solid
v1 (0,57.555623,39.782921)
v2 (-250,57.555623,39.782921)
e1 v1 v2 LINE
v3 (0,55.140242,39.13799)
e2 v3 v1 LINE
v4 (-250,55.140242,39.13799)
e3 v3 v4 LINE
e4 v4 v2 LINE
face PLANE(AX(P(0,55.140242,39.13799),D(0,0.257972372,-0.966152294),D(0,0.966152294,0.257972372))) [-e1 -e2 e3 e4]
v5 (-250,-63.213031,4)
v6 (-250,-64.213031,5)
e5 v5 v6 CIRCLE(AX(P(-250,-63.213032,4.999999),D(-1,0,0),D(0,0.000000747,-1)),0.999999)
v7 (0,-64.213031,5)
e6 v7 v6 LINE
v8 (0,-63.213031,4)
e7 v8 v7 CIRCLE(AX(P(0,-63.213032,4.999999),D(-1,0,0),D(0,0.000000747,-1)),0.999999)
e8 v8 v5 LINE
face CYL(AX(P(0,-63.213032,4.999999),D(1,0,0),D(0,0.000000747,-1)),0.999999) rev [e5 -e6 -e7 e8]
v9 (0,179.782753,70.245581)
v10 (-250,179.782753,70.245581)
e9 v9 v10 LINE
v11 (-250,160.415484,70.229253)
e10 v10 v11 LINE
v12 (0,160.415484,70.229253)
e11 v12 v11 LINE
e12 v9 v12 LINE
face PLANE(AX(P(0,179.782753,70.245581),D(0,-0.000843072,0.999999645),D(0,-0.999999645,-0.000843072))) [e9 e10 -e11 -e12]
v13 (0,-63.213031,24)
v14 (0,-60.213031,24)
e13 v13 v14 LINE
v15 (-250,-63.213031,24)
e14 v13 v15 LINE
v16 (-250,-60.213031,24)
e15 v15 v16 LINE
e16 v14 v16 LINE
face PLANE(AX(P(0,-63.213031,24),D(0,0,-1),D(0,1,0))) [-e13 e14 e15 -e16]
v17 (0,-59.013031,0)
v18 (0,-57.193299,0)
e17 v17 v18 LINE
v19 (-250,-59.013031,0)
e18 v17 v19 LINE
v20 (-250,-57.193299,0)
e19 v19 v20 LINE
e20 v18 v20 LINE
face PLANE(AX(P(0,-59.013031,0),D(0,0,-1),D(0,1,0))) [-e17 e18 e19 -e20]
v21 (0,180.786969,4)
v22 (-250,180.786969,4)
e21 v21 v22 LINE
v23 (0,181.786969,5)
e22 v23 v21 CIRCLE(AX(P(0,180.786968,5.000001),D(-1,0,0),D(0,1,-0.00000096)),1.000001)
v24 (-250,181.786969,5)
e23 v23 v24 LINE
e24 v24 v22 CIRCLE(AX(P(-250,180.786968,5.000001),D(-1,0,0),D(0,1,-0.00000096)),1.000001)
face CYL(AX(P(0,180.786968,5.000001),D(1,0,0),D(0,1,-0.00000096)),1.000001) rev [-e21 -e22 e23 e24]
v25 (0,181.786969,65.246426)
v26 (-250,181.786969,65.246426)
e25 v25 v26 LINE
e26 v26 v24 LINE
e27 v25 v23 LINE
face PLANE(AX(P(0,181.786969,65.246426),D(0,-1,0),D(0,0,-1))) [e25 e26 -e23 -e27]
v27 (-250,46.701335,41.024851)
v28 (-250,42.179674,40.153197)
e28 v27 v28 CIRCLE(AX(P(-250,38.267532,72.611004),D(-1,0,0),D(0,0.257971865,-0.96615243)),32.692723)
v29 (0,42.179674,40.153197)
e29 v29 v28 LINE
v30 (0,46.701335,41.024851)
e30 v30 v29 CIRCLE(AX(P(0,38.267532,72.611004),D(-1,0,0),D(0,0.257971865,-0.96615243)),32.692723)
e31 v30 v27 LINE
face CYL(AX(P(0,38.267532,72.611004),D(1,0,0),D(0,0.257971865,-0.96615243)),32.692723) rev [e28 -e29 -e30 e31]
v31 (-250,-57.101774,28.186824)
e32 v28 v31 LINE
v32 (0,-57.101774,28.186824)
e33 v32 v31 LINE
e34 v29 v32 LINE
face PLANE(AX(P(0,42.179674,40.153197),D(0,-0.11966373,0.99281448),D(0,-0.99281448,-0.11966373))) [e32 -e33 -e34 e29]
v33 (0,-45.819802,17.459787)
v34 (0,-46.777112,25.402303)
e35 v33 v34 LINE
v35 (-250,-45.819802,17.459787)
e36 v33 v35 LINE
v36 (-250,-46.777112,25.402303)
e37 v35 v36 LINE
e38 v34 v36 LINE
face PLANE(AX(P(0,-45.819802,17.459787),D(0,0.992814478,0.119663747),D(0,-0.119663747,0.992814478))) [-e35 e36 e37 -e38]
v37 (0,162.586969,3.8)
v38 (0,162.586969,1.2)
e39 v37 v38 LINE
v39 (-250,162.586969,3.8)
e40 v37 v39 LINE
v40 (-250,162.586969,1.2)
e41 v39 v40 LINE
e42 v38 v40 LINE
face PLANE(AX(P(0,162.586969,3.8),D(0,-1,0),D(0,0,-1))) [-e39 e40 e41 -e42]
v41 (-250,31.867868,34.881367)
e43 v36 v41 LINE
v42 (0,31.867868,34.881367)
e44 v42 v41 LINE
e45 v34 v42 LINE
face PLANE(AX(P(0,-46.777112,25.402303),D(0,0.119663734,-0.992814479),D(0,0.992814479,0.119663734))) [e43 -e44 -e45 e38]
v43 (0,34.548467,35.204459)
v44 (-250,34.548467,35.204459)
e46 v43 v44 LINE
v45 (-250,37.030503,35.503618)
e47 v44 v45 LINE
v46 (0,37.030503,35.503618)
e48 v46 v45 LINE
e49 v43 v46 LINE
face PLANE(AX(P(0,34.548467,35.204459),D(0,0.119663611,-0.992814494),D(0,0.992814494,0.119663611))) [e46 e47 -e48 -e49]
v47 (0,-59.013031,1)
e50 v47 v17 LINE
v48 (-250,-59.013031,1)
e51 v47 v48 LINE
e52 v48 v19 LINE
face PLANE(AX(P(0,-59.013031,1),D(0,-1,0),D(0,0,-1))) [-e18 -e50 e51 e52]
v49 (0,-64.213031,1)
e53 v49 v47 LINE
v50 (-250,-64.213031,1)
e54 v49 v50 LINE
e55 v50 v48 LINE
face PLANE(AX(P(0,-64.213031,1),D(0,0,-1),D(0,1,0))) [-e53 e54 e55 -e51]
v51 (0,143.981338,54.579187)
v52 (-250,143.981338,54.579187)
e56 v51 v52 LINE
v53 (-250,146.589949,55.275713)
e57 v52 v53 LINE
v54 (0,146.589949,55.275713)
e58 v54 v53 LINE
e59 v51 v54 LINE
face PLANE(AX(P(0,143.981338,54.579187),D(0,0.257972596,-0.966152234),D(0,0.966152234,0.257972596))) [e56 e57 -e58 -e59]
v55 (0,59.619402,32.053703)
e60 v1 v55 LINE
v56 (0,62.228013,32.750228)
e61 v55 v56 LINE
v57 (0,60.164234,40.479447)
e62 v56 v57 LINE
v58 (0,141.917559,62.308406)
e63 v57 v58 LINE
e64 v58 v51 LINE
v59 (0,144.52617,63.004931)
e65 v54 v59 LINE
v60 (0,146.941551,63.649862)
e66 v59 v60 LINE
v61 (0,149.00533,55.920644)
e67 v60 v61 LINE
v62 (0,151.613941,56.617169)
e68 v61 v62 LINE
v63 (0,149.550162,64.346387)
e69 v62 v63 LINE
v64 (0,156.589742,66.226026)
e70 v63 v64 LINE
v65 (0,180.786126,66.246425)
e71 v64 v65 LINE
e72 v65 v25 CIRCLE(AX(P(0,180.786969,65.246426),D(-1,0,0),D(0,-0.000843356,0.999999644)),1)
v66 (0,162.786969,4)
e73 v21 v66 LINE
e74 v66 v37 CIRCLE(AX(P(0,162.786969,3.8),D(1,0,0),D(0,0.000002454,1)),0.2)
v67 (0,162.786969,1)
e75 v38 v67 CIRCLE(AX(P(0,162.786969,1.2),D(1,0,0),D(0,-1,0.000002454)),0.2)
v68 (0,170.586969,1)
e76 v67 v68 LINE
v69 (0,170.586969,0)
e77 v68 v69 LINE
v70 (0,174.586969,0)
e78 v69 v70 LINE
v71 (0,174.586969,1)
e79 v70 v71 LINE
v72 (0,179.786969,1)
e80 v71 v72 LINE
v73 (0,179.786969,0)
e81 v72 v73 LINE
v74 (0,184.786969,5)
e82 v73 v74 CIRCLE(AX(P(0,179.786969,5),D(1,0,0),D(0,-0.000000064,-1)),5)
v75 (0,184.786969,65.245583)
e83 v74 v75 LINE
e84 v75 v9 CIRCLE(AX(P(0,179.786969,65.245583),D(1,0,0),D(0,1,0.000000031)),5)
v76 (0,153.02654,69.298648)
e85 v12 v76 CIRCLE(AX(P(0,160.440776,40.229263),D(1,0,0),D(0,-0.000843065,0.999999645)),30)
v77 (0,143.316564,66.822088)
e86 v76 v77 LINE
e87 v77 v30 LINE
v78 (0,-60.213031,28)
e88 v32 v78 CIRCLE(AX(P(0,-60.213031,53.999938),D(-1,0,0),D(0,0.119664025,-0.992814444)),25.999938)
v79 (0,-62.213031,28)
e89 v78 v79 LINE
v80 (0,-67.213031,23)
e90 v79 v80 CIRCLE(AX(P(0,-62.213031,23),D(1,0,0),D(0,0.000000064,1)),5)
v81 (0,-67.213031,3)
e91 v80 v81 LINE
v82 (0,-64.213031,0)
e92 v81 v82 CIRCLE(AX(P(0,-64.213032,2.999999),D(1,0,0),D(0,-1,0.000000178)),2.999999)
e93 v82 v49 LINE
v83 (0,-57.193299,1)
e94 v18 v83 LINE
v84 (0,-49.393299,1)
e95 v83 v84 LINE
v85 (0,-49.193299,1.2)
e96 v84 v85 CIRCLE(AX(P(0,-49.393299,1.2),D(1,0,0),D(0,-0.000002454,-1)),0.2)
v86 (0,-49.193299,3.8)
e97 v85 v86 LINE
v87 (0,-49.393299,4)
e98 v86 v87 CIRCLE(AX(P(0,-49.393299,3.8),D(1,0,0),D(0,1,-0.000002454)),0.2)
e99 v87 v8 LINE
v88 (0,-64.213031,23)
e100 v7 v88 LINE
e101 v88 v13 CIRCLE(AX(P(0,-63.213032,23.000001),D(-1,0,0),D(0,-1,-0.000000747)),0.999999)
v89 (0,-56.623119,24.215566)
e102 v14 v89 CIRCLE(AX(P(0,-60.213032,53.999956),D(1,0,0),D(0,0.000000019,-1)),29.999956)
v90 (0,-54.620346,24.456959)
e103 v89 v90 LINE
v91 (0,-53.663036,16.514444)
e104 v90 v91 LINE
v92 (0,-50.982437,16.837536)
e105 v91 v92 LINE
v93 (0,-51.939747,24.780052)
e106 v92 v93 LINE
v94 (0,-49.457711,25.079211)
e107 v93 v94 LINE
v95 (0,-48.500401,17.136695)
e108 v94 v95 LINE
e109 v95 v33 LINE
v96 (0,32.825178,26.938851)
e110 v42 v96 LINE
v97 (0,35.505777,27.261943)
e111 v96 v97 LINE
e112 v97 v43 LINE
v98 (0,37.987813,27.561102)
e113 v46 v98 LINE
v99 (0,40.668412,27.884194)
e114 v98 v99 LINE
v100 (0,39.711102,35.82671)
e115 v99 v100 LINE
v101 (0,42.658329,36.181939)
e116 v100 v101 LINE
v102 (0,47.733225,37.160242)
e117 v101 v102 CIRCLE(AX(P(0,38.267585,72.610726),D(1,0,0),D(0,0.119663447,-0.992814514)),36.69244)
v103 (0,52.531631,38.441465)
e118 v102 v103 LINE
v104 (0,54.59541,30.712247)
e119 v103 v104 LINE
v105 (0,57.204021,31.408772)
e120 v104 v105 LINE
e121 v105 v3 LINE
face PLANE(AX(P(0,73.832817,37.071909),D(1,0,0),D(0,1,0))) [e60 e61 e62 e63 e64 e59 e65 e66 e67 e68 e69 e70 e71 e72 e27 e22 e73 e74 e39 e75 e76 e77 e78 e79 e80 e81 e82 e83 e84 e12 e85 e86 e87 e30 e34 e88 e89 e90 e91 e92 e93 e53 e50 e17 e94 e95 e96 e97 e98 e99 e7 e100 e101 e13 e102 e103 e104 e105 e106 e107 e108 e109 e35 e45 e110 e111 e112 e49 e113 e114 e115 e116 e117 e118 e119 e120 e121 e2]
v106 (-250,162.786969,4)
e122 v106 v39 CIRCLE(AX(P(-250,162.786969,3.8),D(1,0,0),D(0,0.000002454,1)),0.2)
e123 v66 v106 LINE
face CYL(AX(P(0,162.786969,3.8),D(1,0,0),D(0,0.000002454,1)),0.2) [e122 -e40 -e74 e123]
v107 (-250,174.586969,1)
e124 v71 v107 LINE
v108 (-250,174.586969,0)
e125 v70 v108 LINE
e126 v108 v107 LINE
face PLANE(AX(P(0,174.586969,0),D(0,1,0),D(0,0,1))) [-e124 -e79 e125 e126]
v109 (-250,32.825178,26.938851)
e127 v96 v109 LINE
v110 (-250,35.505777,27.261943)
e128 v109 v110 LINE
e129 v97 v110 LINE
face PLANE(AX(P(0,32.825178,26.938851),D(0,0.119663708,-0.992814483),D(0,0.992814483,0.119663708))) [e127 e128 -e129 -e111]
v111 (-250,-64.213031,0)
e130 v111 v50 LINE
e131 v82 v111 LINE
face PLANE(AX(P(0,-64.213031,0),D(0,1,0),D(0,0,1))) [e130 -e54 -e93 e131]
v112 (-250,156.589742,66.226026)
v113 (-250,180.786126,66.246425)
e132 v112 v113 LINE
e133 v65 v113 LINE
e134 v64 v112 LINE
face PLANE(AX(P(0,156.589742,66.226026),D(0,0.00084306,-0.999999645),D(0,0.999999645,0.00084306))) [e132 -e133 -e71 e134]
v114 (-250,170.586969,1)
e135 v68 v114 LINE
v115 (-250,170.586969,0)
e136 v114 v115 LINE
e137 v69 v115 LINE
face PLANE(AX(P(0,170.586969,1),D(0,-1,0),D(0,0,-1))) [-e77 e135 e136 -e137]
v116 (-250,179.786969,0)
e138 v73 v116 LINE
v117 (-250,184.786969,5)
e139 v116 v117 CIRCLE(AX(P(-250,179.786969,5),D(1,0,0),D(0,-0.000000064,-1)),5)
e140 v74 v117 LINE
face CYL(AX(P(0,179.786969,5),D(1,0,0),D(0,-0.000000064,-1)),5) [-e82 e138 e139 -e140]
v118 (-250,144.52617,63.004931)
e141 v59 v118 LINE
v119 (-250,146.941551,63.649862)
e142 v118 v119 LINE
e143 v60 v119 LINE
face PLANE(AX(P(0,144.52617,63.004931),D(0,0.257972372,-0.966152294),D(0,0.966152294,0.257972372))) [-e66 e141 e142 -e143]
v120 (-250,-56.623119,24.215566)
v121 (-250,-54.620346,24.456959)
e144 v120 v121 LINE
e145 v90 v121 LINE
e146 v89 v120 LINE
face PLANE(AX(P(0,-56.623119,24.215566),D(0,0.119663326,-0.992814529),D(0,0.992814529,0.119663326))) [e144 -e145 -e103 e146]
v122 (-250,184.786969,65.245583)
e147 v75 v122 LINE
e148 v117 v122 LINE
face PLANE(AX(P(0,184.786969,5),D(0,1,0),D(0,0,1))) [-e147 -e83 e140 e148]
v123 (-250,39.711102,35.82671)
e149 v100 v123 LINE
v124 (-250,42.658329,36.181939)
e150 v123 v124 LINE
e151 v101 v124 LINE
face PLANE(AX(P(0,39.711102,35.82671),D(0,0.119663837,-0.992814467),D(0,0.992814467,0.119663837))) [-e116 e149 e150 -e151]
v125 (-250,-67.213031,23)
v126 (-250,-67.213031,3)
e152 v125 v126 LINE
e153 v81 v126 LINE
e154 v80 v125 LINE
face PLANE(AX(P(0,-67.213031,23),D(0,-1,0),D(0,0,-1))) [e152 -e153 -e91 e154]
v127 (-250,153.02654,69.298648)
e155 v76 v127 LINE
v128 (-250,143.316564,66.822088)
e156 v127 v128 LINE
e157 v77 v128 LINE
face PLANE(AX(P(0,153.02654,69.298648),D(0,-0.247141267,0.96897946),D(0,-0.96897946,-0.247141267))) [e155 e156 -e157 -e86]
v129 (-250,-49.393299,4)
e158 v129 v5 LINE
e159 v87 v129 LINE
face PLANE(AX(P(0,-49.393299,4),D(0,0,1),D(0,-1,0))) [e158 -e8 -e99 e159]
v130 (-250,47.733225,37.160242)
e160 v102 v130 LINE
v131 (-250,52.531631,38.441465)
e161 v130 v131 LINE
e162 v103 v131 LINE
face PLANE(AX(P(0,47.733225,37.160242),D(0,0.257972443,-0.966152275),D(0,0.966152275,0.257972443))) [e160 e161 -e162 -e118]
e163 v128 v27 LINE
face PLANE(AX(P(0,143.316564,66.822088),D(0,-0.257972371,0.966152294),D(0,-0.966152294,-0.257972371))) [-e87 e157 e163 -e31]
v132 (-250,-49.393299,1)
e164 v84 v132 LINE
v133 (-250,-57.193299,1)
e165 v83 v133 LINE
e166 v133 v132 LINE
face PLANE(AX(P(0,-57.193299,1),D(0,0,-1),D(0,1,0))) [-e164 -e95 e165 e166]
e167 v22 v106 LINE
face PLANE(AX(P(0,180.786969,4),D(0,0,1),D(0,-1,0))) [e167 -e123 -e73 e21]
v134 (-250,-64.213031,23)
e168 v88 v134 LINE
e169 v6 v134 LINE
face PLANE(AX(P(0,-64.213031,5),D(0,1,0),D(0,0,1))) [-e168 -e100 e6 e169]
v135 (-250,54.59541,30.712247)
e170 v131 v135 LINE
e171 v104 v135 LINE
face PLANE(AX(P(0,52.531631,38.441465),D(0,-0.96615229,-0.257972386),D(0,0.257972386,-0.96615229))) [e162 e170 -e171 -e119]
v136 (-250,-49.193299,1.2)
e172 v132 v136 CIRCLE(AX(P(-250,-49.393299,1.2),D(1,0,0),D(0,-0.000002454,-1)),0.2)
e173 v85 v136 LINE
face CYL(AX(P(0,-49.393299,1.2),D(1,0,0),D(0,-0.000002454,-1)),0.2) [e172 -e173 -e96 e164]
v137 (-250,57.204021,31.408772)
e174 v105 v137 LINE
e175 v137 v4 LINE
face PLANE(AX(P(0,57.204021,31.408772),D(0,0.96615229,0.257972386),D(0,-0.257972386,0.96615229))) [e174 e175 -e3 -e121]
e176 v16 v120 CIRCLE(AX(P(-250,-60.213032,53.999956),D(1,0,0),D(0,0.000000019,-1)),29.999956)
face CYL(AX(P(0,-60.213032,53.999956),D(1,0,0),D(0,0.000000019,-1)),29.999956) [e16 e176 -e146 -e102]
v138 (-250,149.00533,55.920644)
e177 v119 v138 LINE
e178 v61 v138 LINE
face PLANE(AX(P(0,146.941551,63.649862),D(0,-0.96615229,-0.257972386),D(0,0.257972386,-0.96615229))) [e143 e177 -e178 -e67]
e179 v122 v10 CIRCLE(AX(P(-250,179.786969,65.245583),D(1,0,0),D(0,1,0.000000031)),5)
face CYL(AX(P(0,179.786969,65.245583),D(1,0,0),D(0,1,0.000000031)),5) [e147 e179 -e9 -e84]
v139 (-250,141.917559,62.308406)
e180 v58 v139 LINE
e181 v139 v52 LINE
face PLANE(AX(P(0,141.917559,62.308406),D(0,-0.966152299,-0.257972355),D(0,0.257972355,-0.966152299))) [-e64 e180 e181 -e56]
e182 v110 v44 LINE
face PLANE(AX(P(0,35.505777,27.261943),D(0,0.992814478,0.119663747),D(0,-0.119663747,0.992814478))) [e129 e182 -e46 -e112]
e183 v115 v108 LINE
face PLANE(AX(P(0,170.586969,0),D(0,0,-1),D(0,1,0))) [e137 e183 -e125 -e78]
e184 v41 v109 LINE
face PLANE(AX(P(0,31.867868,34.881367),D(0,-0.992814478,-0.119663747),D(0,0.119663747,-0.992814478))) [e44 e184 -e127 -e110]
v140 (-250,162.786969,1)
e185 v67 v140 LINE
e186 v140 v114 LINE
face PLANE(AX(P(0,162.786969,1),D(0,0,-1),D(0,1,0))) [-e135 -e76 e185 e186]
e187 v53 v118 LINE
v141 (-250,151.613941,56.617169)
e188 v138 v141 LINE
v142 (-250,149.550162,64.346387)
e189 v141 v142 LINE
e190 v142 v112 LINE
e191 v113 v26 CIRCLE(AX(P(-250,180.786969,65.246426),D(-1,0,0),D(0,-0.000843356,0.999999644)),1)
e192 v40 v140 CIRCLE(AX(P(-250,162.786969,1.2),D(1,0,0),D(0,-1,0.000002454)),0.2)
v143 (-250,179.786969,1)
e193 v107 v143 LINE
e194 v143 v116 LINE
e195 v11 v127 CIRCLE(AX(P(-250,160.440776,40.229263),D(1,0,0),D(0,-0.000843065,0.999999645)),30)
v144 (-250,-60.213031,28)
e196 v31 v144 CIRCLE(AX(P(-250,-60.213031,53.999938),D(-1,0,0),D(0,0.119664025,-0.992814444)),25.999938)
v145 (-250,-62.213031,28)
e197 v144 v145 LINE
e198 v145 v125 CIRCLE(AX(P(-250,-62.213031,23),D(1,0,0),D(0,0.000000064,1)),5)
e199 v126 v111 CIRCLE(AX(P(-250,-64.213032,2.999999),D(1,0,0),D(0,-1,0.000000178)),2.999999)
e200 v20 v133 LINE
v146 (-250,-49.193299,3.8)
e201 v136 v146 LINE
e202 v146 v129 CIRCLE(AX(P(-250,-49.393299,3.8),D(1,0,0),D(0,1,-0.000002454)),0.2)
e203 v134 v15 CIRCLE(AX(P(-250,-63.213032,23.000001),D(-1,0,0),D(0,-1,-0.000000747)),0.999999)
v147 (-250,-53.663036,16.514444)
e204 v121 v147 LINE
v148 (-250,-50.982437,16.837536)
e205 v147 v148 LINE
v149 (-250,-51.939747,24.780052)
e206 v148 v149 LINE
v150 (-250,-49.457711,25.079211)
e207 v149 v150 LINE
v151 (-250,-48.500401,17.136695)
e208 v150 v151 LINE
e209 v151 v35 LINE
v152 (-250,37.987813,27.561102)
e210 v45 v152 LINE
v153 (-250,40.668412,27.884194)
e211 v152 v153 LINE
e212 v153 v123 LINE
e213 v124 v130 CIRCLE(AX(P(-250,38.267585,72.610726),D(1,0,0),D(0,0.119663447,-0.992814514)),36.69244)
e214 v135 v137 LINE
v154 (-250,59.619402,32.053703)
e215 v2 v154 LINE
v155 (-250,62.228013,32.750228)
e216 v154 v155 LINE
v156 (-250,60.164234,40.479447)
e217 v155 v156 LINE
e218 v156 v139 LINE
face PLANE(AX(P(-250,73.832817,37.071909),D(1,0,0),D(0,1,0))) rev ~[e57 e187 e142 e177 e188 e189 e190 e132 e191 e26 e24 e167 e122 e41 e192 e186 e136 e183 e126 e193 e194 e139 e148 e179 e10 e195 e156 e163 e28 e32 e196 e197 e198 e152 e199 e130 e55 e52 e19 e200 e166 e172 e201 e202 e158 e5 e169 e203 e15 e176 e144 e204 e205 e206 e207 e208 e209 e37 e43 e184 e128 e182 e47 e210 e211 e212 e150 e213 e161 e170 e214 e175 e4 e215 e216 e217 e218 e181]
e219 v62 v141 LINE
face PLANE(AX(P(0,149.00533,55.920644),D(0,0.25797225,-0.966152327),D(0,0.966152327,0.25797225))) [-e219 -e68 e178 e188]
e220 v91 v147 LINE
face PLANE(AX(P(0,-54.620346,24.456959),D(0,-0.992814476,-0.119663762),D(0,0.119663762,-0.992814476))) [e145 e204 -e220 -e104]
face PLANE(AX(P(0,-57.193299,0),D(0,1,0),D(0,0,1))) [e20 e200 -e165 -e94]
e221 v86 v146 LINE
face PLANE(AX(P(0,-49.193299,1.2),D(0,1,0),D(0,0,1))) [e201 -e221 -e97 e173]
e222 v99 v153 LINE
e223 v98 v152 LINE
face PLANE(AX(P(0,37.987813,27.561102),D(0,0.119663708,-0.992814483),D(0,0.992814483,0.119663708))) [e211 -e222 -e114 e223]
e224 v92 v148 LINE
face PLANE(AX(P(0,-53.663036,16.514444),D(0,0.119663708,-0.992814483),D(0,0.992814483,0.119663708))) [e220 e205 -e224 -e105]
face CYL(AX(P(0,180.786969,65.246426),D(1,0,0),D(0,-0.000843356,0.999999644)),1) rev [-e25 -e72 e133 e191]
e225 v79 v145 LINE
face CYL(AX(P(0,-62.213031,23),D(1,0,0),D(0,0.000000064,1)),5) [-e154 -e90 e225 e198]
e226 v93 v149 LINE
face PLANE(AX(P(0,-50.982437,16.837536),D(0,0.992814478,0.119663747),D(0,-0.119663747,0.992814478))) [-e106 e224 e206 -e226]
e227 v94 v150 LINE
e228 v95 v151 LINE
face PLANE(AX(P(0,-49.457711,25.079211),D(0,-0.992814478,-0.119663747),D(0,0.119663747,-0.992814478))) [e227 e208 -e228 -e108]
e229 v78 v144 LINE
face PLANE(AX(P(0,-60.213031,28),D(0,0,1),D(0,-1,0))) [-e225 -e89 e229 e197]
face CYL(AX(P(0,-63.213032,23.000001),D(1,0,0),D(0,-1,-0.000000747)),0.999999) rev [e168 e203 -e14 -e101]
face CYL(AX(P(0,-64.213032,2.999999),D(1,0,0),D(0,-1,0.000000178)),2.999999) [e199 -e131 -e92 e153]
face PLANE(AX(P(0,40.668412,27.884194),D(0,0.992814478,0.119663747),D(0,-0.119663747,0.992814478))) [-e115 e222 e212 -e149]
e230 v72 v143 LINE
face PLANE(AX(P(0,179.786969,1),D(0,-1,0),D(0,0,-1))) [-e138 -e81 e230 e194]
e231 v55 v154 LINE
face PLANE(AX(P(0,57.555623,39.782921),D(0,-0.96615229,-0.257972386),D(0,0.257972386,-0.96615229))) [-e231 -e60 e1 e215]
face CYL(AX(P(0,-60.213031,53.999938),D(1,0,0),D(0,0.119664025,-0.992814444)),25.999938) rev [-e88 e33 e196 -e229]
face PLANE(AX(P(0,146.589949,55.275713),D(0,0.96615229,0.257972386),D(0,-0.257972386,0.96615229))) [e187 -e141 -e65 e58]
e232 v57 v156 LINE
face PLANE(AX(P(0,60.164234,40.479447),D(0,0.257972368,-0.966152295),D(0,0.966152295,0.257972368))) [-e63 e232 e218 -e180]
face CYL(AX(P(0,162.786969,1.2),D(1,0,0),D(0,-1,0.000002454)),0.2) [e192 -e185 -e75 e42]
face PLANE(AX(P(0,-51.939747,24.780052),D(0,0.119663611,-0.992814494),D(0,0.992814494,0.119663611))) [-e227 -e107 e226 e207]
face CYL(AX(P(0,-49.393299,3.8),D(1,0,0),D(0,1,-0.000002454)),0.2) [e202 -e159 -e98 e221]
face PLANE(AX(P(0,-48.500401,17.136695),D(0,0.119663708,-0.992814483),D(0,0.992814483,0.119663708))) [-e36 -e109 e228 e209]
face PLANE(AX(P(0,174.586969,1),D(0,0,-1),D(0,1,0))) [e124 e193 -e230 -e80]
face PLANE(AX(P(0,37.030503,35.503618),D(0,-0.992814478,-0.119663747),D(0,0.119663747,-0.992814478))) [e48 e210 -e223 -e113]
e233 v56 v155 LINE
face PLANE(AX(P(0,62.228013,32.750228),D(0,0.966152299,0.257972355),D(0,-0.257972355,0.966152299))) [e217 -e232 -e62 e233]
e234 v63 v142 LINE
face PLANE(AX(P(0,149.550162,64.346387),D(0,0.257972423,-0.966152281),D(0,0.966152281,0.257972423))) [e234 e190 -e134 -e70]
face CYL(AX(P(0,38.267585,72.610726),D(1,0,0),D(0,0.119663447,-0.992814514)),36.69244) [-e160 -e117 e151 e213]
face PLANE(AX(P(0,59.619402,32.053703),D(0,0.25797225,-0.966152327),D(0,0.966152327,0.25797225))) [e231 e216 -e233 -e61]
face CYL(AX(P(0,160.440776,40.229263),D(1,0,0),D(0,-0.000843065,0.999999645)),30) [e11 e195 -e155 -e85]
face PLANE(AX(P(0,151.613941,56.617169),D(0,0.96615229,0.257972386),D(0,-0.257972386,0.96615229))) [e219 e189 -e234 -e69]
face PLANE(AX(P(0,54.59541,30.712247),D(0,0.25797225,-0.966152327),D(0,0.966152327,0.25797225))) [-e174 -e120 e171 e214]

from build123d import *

# Parameters (mm, degrees)
F1_DEPTH = 250


with BuildPart() as f1:
    # F0 (on Right) → F1 (new body)
    with BuildSketch(Plane.YZ):
        with BuildLine():
            Line((-67.213031, 23), (-67.213031, 3))
            ThreePointArc((-67.213031, 3), (-66.334352, 0.87868), (-64.213031, 0))
            Line((-64.213031, 0), (-64.213031, 1))
            Line((-64.213031, 1), (-59.013031, 1))
            Line((-59.013031, 1), (-59.013031, 0))
            Line((-59.013031, 0), (-57.193299, 0))
            Line((-57.193299, 0), (-57.193299, 1))
            Line((-57.193299, 1), (-49.393299, 1))
            ThreePointArc((-49.393299, 1), (-49.251877, 1.058579), (-49.193299, 1.2))
            Line((-49.193299, 1.2), (-49.193299, 3.8))
            ThreePointArc((-49.193299, 3.8), (-49.251877, 3.941421), (-49.393299, 4))
            Line((-49.393299, 4), (-63.213031, 4))
            ThreePointArc((-63.213031, 4), (-63.920138, 4.292893), (-64.213031, 5))
            Line((-64.213031, 5), (-64.213031, 23))
            ThreePointArc((-64.213031, 23), (-63.920138, 23.707107), (-63.213031, 24))
            Line((-63.213031, 24), (-60.213031, 24))
            ThreePointArc((-60.213031, 24), (-58.414842, 24.05394), (-56.623119, 24.215566))
            Line((-56.623119, 24.215566), (-54.620346, 24.456959))
            Line((-54.620346, 24.456959), (-51.939747, 24.780052))
            Line((-51.939747, 24.780052), (-49.457711, 25.079211))
            Line((-49.457711, 25.079211), (-46.777112, 25.402303))
            Line((-46.777112, 25.402303), (31.867868, 34.881367))
            Line((31.867868, 34.881367), (34.548467, 35.204459))
            Line((34.548467, 35.204459), (37.030503, 35.503618))
            Line((37.030503, 35.503618), (39.711102, 35.82671))
            Line((39.711102, 35.82671), (42.658329, 36.181939))
            ThreePointArc((42.658329, 36.181939), (45.213023, 36.581626), (47.733225, 37.160242))
            Line((47.733225, 37.160242), (52.531631, 38.441465))
            Line((52.531631, 38.441465), (55.140242, 39.13799))
            Line((55.140242, 39.13799), (57.555623, 39.782921))
            Line((57.555623, 39.782921), (60.164234, 40.479447))
            Line((60.164234, 40.479447), (141.917559, 62.308406))
            Line((141.917559, 62.308406), (144.52617, 63.004931))
            Line((144.52617, 63.004931), (146.941551, 63.649862))
            Line((146.941551, 63.649862), (149.550162, 64.346387))
            Line((149.550162, 64.346387), (156.589742, 66.226026))
            Line((156.589742, 66.226026), (180.786126, 66.246425))
            ThreePointArc((180.786126, 66.246425), (181.493777, 65.953831), (181.786969, 65.246426))
            Line((181.786969, 65.246426), (181.786969, 5))
            ThreePointArc((181.786969, 5), (181.494075, 4.292893), (180.786969, 4))
            Line((180.786969, 4), (162.786969, 4))
            ThreePointArc((162.786969, 4), (162.645547, 3.941421), (162.586969, 3.8))
            Line((162.586969, 3.8), (162.586969, 1.2))
            ThreePointArc((162.586969, 1.2), (162.645547, 1.058579), (162.786969, 1))
            Line((162.786969, 1), (170.586969, 1))
            Line((170.586969, 1), (170.586969, 0))
            Line((170.586969, 0), (174.586969, 0))
            Line((174.586969, 0), (174.586969, 1))
            Line((174.586969, 1), (179.786969, 1))
            Line((179.786969, 1), (179.786969, 0))
            ThreePointArc((179.786969, 0), (183.322503, 1.464466), (184.786969, 5))
            Line((184.786969, 5), (184.786969, 65.245583))
            ThreePointArc((184.786969, 65.245583), (183.321012, 68.782607), (179.782753, 70.245581))
            Line((179.782753, 70.245581), (160.415484, 70.229253))
            ThreePointArc((160.415484, 70.229253), (156.692023, 69.994123), (153.02654, 69.298648))
            Line((153.02654, 69.298648), (143.316564, 66.822088))
            Line((143.316564, 66.822088), (46.701335, 41.024851))
            ThreePointArc((46.701335, 41.024851), (44.45587, 40.509313), (42.179674, 40.153197))
            Line((42.179674, 40.153197), (-57.101774, 28.186824))
            ThreePointArc((-57.101774, 28.186824), (-58.654601, 28.046748), (-60.213031, 28))
            Line((-60.213031, 28), (-62.213031, 28))
            ThreePointArc((-62.213031, 28), (-65.748565, 26.535534), (-67.213031, 23))
        make_face()
        Polygon((-51.939747, 24.780052), (-54.620346, 24.456959), (-53.663036, 16.514444), (-50.982437, 16.837536), align=None)
        Polygon((-46.777112, 25.402303), (-49.457711, 25.079211), (-48.500401, 17.136695), (-45.819802, 17.459787), align=None)
        Polygon((34.548467, 35.204459), (31.867868, 34.881367), (32.825178, 26.938851), (35.505777, 27.261943), align=None)
        Polygon((39.711102, 35.82671), (37.030503, 35.503618), (37.987813, 27.561102), (40.668412, 27.884194), align=None)
        Polygon((55.140242, 39.13799), (52.531631, 38.441465), (54.59541, 30.712247), (57.204021, 31.408772), align=None)
        Polygon((151.613941, 56.617169), (149.550162, 64.346387), (146.941551, 63.649862), (149.00533, 55.920644), align=None)
        Polygon((60.164234, 40.479447), (57.555623, 39.782921), (59.619402, 32.053703), (62.228013, 32.750228), align=None)
        Polygon((146.589949, 55.275713), (144.52617, 63.004931), (141.917559, 62.308406), (143.981338, 54.579187), align=None)
    extrude(amount=-F1_DEPTH)


solid = f1.part
